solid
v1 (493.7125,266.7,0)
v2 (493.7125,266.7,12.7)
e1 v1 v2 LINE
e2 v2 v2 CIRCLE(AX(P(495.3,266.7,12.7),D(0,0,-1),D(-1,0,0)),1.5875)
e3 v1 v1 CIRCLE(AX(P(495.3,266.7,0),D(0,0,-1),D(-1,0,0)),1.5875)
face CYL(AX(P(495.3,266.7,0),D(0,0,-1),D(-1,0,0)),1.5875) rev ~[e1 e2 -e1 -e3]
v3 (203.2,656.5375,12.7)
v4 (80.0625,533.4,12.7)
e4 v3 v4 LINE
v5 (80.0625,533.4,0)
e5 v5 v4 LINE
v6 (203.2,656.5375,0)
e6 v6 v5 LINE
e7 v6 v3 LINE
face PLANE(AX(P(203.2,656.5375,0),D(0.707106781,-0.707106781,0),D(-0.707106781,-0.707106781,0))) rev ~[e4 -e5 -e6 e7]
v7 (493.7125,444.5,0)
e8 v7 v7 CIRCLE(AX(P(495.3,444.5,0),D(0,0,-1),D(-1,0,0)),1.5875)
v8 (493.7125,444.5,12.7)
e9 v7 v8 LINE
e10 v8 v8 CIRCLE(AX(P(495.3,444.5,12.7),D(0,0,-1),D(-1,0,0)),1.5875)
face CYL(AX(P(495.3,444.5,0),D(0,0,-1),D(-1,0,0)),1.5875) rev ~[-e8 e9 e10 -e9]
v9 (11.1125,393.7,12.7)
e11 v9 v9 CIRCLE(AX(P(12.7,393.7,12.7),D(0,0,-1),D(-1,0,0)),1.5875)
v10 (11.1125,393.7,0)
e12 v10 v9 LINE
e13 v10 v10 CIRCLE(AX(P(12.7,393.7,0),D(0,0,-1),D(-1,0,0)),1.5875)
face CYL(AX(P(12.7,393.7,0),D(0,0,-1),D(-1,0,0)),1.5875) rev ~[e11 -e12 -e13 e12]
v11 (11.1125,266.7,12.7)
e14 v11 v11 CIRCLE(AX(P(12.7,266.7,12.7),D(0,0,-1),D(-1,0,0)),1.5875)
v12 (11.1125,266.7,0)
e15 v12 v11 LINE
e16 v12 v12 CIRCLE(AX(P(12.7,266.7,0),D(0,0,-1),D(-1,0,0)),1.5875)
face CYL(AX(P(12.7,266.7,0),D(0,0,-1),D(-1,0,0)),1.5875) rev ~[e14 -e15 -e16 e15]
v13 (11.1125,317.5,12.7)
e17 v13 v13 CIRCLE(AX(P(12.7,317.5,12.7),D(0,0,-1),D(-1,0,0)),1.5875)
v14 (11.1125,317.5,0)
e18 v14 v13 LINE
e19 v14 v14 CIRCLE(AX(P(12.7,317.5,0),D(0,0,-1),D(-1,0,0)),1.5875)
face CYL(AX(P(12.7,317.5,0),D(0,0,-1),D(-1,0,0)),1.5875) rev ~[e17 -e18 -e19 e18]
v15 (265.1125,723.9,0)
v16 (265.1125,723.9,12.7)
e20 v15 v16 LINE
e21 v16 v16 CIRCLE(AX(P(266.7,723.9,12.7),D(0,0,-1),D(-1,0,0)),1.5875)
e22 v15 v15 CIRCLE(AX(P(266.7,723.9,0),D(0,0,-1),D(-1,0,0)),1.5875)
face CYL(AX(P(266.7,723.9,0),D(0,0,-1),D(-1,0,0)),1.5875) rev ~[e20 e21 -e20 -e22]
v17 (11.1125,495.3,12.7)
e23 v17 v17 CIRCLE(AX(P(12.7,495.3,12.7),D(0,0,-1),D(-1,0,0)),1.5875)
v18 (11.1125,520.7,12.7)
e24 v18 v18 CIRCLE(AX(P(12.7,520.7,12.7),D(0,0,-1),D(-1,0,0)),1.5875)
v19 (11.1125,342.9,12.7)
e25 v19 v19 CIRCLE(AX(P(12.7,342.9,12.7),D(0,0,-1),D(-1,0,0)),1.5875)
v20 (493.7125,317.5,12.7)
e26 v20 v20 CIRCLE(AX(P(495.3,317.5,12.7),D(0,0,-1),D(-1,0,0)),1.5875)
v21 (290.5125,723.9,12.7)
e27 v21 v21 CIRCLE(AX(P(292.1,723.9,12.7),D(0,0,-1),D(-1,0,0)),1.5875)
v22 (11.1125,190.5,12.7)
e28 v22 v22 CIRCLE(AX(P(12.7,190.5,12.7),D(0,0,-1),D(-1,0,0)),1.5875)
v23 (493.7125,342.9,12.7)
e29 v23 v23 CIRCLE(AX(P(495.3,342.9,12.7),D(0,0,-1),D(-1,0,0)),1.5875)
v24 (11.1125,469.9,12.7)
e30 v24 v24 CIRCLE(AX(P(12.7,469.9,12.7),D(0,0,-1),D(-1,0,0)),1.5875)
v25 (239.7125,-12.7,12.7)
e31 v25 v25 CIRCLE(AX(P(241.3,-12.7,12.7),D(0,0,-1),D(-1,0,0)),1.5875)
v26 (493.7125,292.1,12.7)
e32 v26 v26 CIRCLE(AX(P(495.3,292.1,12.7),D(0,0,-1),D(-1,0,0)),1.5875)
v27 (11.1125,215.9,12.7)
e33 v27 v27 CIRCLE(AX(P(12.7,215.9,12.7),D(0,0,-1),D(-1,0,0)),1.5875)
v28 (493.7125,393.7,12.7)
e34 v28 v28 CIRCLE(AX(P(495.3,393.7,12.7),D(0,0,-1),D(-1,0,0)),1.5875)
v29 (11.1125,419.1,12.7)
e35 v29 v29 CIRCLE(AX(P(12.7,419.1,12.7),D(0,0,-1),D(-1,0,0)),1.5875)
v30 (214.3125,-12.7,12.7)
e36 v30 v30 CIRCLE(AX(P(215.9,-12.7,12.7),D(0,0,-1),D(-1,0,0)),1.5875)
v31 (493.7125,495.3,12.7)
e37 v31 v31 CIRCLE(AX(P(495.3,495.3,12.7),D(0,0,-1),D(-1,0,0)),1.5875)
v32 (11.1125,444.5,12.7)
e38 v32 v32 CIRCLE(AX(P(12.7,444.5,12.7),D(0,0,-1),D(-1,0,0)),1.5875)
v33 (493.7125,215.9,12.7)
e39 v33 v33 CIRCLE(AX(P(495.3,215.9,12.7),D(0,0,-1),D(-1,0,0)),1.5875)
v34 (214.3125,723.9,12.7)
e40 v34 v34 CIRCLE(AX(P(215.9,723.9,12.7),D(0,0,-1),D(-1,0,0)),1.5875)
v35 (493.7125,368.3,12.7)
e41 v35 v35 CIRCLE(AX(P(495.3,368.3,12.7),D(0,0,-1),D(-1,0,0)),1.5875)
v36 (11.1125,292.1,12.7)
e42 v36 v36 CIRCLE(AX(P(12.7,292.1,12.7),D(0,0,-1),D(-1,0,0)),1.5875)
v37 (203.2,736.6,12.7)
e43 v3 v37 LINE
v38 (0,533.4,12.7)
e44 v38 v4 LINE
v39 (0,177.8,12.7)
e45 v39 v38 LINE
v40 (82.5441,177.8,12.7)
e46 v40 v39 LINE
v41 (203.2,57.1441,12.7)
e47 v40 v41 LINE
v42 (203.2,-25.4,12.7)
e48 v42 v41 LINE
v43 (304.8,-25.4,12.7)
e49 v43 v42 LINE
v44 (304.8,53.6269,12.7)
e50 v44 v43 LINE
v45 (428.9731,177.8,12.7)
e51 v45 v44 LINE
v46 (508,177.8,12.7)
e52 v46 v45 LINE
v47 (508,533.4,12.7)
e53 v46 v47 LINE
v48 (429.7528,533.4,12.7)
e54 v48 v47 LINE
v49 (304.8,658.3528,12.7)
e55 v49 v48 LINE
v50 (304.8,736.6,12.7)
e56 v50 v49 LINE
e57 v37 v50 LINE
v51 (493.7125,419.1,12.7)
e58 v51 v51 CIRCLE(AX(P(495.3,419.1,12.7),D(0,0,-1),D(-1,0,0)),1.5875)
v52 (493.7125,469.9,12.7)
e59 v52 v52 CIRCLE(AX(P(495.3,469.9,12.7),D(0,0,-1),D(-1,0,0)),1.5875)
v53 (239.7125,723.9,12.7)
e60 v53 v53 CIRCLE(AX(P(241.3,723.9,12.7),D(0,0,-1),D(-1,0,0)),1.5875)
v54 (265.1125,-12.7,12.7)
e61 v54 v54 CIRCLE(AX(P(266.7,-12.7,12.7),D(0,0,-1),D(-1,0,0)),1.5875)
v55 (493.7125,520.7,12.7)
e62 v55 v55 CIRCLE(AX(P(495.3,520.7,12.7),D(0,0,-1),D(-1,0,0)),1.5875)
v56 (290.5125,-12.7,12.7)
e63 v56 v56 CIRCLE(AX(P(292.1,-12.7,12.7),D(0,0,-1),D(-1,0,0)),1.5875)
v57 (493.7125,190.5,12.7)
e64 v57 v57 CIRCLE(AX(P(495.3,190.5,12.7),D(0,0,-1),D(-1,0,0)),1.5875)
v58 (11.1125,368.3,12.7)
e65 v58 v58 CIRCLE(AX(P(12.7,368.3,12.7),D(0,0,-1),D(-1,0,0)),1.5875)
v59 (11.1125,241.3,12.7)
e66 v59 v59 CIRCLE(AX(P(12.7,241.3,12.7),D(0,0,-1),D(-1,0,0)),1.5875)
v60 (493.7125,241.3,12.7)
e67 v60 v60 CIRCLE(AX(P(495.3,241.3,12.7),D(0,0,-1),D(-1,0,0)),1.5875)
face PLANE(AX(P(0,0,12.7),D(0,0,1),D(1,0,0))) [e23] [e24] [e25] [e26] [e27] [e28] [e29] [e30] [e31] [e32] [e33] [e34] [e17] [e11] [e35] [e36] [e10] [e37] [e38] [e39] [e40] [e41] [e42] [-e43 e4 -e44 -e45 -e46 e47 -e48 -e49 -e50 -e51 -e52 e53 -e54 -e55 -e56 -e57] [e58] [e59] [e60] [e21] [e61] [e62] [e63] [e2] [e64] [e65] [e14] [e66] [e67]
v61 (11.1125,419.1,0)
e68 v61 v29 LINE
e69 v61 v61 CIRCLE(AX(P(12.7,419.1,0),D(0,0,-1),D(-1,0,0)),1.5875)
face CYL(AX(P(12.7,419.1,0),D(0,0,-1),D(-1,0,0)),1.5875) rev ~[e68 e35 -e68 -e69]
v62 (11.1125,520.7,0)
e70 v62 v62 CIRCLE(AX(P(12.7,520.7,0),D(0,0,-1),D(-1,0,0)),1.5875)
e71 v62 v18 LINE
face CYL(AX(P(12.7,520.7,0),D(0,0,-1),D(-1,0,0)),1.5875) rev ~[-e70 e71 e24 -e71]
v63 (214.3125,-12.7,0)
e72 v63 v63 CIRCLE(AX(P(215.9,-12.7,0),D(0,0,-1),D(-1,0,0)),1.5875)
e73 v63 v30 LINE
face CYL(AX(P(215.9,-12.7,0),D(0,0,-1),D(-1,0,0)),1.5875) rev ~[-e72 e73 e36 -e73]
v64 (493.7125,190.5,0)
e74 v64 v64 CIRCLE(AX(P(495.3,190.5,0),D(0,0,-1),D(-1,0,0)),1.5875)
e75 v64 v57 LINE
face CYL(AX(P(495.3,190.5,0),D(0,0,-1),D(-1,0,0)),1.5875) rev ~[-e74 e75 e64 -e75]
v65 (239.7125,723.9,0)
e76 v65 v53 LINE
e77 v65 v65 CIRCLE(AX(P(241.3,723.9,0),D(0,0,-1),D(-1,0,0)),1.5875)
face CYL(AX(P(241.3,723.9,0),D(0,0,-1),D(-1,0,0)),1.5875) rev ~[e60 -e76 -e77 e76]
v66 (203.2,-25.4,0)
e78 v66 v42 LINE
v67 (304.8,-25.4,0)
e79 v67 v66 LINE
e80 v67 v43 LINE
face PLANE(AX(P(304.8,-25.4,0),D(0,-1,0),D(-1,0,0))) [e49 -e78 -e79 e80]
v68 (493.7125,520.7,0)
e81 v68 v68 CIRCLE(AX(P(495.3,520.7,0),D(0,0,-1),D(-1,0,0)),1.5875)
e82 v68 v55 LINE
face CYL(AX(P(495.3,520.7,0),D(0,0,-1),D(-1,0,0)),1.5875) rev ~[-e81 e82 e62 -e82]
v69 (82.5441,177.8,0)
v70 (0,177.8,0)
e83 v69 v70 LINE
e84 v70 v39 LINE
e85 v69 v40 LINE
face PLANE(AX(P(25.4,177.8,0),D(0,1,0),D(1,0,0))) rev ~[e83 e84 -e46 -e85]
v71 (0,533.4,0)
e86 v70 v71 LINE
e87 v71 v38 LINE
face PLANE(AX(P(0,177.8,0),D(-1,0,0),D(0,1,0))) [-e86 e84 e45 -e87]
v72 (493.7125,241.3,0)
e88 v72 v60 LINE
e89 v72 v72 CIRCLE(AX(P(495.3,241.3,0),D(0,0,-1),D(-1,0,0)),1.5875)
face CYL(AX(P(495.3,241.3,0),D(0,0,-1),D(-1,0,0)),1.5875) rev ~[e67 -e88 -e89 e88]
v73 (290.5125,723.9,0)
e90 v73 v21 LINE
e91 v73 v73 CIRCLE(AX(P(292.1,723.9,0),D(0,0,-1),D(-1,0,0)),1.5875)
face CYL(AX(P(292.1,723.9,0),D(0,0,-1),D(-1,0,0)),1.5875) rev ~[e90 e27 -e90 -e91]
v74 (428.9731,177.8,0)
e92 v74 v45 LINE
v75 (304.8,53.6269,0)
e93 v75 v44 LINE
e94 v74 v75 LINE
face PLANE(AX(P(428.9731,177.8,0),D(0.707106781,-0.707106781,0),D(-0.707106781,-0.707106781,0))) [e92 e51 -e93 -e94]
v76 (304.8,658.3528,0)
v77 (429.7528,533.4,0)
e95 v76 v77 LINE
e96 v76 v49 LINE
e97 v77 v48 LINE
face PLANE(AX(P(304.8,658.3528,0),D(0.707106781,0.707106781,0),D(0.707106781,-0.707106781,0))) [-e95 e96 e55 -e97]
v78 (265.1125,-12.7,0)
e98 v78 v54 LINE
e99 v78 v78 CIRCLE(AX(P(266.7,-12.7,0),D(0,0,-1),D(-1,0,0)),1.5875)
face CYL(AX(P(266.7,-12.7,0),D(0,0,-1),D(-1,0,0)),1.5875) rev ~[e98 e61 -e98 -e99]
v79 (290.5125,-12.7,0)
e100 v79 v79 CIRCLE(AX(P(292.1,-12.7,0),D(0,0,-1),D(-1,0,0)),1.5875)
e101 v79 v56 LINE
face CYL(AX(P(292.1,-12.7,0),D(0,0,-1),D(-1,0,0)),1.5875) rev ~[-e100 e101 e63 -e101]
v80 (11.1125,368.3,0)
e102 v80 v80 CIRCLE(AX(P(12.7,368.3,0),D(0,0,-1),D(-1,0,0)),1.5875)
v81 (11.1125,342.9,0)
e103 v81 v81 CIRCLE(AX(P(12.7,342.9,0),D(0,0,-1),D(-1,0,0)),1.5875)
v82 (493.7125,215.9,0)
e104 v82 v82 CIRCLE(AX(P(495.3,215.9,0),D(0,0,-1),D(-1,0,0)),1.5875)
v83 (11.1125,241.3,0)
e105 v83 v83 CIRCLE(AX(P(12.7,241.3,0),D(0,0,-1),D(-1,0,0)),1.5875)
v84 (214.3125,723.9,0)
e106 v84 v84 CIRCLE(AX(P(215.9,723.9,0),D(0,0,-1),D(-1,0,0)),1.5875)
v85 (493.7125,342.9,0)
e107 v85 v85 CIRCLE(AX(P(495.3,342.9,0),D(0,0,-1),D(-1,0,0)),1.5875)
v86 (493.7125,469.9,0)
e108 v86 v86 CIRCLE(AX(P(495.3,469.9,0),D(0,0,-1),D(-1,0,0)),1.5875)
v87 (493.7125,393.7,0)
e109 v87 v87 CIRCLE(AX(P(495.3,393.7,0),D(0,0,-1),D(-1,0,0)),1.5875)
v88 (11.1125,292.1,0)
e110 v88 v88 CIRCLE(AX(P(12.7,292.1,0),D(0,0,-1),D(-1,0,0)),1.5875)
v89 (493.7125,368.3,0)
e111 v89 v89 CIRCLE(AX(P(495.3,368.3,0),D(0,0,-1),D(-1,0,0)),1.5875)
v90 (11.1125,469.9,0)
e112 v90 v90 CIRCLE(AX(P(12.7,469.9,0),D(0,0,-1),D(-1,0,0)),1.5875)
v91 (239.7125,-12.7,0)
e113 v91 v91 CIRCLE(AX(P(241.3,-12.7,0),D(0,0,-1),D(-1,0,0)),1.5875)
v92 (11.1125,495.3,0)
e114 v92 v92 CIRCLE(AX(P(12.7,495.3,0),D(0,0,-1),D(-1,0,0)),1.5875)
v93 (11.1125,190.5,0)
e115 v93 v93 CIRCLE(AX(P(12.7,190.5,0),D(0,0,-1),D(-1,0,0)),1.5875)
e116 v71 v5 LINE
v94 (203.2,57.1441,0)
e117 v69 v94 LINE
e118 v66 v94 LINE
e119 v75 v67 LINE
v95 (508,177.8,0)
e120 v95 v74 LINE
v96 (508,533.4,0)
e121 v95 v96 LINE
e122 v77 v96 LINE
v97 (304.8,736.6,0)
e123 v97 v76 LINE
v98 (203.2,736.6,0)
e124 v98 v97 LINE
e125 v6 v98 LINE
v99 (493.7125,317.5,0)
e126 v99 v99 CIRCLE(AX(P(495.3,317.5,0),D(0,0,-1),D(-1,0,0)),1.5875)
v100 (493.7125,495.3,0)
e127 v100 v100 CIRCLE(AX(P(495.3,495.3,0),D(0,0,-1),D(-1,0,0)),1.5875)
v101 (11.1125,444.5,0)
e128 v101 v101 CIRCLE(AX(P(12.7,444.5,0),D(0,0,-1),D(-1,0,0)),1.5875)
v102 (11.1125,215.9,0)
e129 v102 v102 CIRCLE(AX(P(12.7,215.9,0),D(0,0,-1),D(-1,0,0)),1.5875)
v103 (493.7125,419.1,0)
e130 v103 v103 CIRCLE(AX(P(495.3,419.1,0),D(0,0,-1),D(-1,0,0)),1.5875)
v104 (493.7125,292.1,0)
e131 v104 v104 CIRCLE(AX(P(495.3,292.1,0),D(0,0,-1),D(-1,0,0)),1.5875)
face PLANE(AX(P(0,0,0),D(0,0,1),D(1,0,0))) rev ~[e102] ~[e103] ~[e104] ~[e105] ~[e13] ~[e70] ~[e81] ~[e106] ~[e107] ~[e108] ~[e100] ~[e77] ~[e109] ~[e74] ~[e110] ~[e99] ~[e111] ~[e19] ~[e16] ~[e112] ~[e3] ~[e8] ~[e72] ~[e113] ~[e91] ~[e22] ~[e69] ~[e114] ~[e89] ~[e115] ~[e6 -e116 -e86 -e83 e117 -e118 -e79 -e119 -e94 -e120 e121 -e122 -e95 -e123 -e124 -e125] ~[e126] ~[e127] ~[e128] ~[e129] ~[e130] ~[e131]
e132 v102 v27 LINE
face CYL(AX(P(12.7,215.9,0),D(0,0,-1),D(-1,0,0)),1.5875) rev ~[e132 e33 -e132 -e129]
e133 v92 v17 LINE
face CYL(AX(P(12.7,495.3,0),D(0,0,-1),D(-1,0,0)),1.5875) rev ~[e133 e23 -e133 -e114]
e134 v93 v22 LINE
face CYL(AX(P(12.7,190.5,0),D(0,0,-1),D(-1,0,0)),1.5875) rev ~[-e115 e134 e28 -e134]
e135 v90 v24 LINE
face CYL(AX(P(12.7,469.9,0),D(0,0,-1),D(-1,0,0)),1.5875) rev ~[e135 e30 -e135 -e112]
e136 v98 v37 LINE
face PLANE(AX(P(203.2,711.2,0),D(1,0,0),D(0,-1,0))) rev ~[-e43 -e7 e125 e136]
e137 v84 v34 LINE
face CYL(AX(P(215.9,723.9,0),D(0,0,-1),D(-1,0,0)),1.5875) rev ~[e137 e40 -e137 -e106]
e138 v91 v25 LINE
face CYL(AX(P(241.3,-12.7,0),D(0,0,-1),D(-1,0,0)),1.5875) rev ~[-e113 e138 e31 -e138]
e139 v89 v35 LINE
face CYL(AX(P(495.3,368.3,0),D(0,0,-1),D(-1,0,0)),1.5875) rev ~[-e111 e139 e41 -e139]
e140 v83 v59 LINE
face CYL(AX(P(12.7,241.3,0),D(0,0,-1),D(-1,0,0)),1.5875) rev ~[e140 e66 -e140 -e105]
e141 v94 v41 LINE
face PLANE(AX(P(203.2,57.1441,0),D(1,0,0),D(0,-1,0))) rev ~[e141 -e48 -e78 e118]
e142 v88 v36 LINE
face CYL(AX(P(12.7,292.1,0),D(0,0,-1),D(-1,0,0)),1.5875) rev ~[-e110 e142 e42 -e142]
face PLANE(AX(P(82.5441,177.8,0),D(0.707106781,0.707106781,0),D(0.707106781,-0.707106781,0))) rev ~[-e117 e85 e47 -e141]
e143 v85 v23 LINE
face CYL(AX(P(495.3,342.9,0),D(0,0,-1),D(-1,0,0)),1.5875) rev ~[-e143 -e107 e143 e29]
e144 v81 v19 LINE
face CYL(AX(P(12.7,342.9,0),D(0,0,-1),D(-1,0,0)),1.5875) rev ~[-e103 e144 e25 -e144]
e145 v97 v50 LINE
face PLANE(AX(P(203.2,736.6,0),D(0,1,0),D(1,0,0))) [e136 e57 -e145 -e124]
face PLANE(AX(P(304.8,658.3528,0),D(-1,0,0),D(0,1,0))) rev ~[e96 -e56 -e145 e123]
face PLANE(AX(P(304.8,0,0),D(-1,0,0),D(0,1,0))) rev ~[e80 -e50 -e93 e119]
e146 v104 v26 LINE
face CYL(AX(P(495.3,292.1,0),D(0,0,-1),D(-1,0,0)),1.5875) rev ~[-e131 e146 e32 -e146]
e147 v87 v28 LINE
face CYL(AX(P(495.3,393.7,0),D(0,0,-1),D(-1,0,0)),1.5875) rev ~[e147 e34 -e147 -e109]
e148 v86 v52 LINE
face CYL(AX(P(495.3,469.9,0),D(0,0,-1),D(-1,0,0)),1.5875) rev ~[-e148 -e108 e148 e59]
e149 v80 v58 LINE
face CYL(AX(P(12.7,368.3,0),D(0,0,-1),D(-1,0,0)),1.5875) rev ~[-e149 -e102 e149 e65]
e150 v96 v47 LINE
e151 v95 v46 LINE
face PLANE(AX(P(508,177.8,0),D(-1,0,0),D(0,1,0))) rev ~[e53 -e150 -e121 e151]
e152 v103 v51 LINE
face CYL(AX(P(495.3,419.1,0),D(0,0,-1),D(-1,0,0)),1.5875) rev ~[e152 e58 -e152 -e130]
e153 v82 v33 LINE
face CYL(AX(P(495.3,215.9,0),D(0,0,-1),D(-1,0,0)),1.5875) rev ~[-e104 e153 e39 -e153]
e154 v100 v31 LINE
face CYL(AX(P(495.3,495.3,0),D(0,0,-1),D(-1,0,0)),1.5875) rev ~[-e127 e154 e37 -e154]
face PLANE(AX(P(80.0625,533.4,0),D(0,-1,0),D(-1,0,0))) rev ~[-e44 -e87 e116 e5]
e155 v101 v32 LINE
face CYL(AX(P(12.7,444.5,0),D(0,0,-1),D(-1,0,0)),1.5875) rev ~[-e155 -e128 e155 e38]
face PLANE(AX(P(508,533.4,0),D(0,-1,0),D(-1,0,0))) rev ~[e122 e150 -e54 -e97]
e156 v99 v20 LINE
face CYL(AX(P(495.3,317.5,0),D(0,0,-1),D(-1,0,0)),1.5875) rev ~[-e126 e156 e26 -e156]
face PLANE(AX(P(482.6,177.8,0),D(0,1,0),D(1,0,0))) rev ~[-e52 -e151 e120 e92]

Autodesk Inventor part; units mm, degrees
ref_plane "YZ Plane" through (0, 0, 0) normal (1, 0, 0) x (0, 1, 0)
ref_plane "XZ Plane" through (0, 0, 0) normal (0, 1, 0) x (-1, 0, 0)
ref_plane "XY Plane" through (0, 0, 0) normal (0, 0, 1) x (1, 0, 0)
ref_plane "Work Plane1" through (0, 0, 0) normal (0, 0, 1) x (1, 0, 0)
sketch "Sketch1" plane through (0, 0, 0) normal (0, 0, 1) x (1, 0, 0)
  circle A0 centre (495.3, 317.5) radius 1.5875
  circle A1 centre (495.3, 698.5) radius 1.5875
  circle A2 centre (495.3, 673.1) radius 1.5875
  circle A3 centre (495.3, 647.7) radius 1.5875
  circle A4 centre (495.3, 622.3) radius 1.5875
  circle A5 centre (495.3, 596.9) radius 1.5875
  circle A6 centre (495.3, 571.5) radius 1.5875
  circle A7 centre (495.3, 546.1) radius 1.5875
  circle A8 centre (495.3, 520.7) radius 1.5875
  circle A9 centre (495.3, 495.3) radius 1.5875
  circle A10 centre (495.3, 469.9) radius 1.5875
  circle A11 centre (495.3, 444.5) radius 1.5875
  circle A12 centre (495.3, 419.1) radius 1.5875
  circle A13 centre (495.3, 393.7) radius 1.5875
  circle A14 centre (495.3, 368.3) radius 1.5875
  circle A15 centre (495.3, 342.9) radius 1.5875
  circle A16 centre (495.3, 317.5) radius 1.5875
  circle A17 centre (495.3, 292.1) radius 1.5875
  circle A18 centre (495.3, 266.7) radius 1.5875
  circle A19 centre (495.3, 241.3) radius 1.5875
  circle A20 centre (495.3, 215.9) radius 1.5875
  circle A21 centre (495.3, 190.5) radius 1.5875
  circle A22 centre (495.3, 165.1) radius 1.5875
  circle A23 centre (495.3, 139.7) radius 1.5875
  circle A24 centre (495.3, 114.3) radius 1.5875
  circle A25 centre (495.3, 88.9) radius 1.5875
  circle A26 centre (495.3, 63.5) radius 1.5875
  circle A27 centre (495.3, 38.1) radius 1.5875
  circle A28 centre (495.3, 12.7) radius 1.5875
  line L0 (482.6, 0) -> (508, 0)
  line L1 (508, 0) -> (508, 711.2)
  line L2 (482.6, 711.2) -> (508, 711.2)
  line L3 (482.6, 0) -> (482.6, 711.2)
  circle A29 centre (469.9, 723.9) radius 1.5875
  circle A30 centre (444.5, 723.9) radius 1.5875
  circle A31 centre (419.1, 723.9) radius 1.5875
  circle A32 centre (393.7, 723.9) radius 1.5875
  circle A33 centre (368.3, 723.9) radius 1.5875
  circle A34 centre (342.9, 723.9) radius 1.5875
  circle A35 centre (317.5, 723.9) radius 1.5875
  circle A36 centre (292.1, 723.9) radius 1.5875
  circle A37 centre (266.7, 723.9) radius 1.5875
  circle A38 centre (241.3, 723.9) radius 1.5875
  circle A39 centre (215.9, 723.9) radius 1.5875
  circle A40 centre (190.5, 723.9) radius 1.5875
  circle A41 centre (165.1, 723.9) radius 1.5875
  circle A42 centre (139.7, 723.9) radius 1.5875
  circle A43 centre (114.3, 723.9) radius 1.5875
  circle A44 centre (88.9, 723.9) radius 1.5875
  circle A45 centre (63.5, 723.9) radius 1.5875
  circle A46 centre (38.1, 723.9) radius 1.5875
  line L4 (25.4, 736.6) -> (25.4, 711.2)
  line L5 (25.4, 711.2) -> (482.6, 711.2)
  line L6 (482.6, 736.6) -> (482.6, 711.2)
  line L7 (25.4, 736.6) -> (482.6, 736.6)
  circle A47 centre (38.1, -12.7) radius 1.5875
  circle A48 centre (63.5, -12.7) radius 1.5875
  circle A49 centre (88.9, -12.7) radius 1.5875
  circle A50 centre (114.3, -12.7) radius 1.5875
  circle A51 centre (139.7, -12.7) radius 1.5875
  circle A52 centre (165.1, -12.7) radius 1.5875
  circle A53 centre (190.5, -12.7) radius 1.5875
  circle A54 centre (215.9, -12.7) radius 1.5875
  circle A55 centre (241.3, -12.7) radius 1.5875
  circle A56 centre (266.7, -12.7) radius 1.5875
  circle A57 centre (292.1, -12.7) radius 1.5875
  circle A58 centre (317.5, -12.7) radius 1.5875
  circle A59 centre (342.9, -12.7) radius 1.5875
  circle A60 centre (368.3, -12.7) radius 1.5875
  circle A61 centre (393.7, -12.7) radius 1.5875
  circle A62 centre (419.1, -12.7) radius 1.5875
  circle A63 centre (444.5, -12.7) radius 1.5875
  circle A64 centre (469.9, -12.7) radius 1.5875
  line L8 (482.6, -25.4) -> (482.6, 0)
  line L9 (482.6, 0) -> (25.4, 0)
  line L10 (25.4, -25.4) -> (25.4, 0)
  line L11 (482.6, -25.4) -> (25.4, -25.4)
  circle A65 centre (12.7, 698.5) radius 1.5875
  circle A66 centre (12.7, 673.1) radius 1.5875
  circle A67 centre (12.7, 647.7) radius 1.5875
  circle A68 centre (12.7, 622.3) radius 1.5875
  circle A69 centre (12.7, 596.9) radius 1.5875
  circle A70 centre (12.7, 571.5) radius 1.5875
  circle A71 centre (12.7, 546.1) radius 1.5875
  circle A72 centre (12.7, 520.7) radius 1.5875
  circle A73 centre (12.7, 495.3) radius 1.5875
  circle A74 centre (12.7, 469.9) radius 1.5875
  circle A75 centre (12.7, 444.5) radius 1.5875
  circle A76 centre (12.7, 419.1) radius 1.5875
  circle A77 centre (12.7, 393.7) radius 1.5875
  circle A78 centre (12.7, 368.3) radius 1.5875
  circle A79 centre (12.7, 342.9) radius 1.5875
  circle A80 centre (12.7, 317.5) radius 1.5875
  circle A81 centre (12.7, 292.1) radius 1.5875
  circle A82 centre (12.7, 266.7) radius 1.5875
  circle A83 centre (12.7, 241.3) radius 1.5875
  circle A84 centre (12.7, 215.9) radius 1.5875
  circle A85 centre (12.7, 190.5) radius 1.5875
  circle A86 centre (12.7, 165.1) radius 1.5875
  circle A87 centre (12.7, 139.7) radius 1.5875
  circle A88 centre (12.7, 114.3) radius 1.5875
  circle A89 centre (12.7, 88.9) radius 1.5875
  circle A90 centre (12.7, 63.5) radius 1.5875
  circle A91 centre (12.7, 38.1) radius 1.5875
  circle A92 centre (12.7, 12.7) radius 1.5875
  line L12 (0, 0) -> (25.4, 0)
  line L13 (25.4, 0) -> (25.4, 711.2)
  line L14 (0, 711.2) -> (25.4, 711.2)
  line L15 (0, 0) -> (0, 711.2)
  line L16 (0, 533.4) -> (0, 177.8)
  line L17 (508, 177.8) -> (508, 533.4)
  line L18 (304.8, 736.6) -> (203.2, 736.6)
  line L19 (203.2, -25.4) -> (304.8, -25.4)
  line L20 (428.9731, 177.8) -> (304.8, 53.6269)
  spline S0 degree 3 number of poles 75
  line L21 (429.7528, 155.0822) -> (327.5178, 52.8472)
  line L22 (82.5441, 177.8) -> (203.2, 57.1441)
  line L23 (180.4822, 52.8472) -> (78.2472, 155.0822)
  line L24 (203.2, 656.5375) -> (80.0625, 533.4)
  line L25 (78.2472, 556.1178) -> (180.4822, 658.3528)
  line L26 (327.5178, 658.3528) -> (429.7528, 556.1178)
  line L27 (304.8, 658.3528) -> (429.7528, 533.4)
  line L28 (203.2, 736.6) -> (203.2, 656.5375)
  line L29 (203.2, 57.1441) -> (203.2, -25.4)
  line L30 (304.8, 658.3528) -> (304.8, 736.6)
  line L31 (508, 533.4) -> (429.7528, 533.4)
  line L32 (80.0625, 533.4) -> (0, 533.4)
  line L33 (0, 177.8) -> (82.5441, 177.8)
  line L34 (428.9731, 177.8) -> (508, 177.8)
  line L35 (304.8, -25.4) -> (304.8, 53.6269)
extrude "Extrusion1" add sketch "Sketch1" along normal blind 12.7 contours A0 | A8 | A9 | A10 | A11 | A12 | A13 | A14 | A15 | A17 | A18 | A19 | A20 | A21 | L34 L20 L35 L9 L29 L22 L33 L13 L32 L24 L28 L5 L30 L27 L31 L3 | L3 L31 L1 L34 | L35 L11 L29 L9 | L5 L28 L7 L30 | L33 L15 L32 L13 | A36 | A37 | A38 | A39 | A54 | A55 | A56 | A57 | A72 | A73 | A74 | A75 | A76 | A77 | A78 | A79 | A80 | A81 | A82 | A83 | A84 | A85
sketch "Sketch2" plane through (0, 0, 0) normal (0, 0, -1) x (-1, 0, 0)
  circle A0 centre (-495.3, 190.5) radius 1.5875 projected
  circle A1 centre (-495.3, 215.9) radius 1.5875 projected
  circle A2 centre (-495.3, 241.3) radius 1.5875 projected
  circle A3 centre (-495.3, 266.7) radius 1.5875 projected
  circle A4 centre (-495.3, 292.1) radius 1.5875 projected
  circle A5 centre (-495.3, 317.5) radius 1.5875 projected
  circle A6 centre (-495.3, 342.9) radius 1.5875 projected
  circle A7 centre (-495.3, 368.3) radius 1.5875 projected
  circle A8 centre (-495.3, 393.7) radius 1.5875 projected
  circle A9 centre (-495.3, 419.1) radius 1.5875 projected
  circle A10 centre (-495.3, 444.5) radius 1.5875 projected
  circle A11 centre (-495.3, 469.9) radius 1.5875 projected
  circle A12 centre (-495.3, 495.3) radius 1.5875 projected
  circle A13 centre (-495.3, 520.7) radius 1.5875 projected
  circle A14 centre (-215.9, 723.9) radius 1.5875 projected
  circle A15 centre (-241.3, 723.9) radius 1.5875 projected
  circle A16 centre (-266.7, 723.9) radius 1.5875 projected
  circle A17 centre (-292.1, 723.9) radius 1.5875 projected
  circle A18 centre (-12.7, 520.7) radius 1.5875 projected
  circle A19 centre (-12.7, 495.3) radius 1.5875 projected
  circle A20 centre (-12.7, 469.9) radius 1.5875 projected
  circle A21 centre (-12.7, 444.5) radius 1.5875 projected
  circle A22 centre (-12.7, 419.1) radius 1.5875 projected
  circle A23 centre (-12.7, 393.7) radius 1.5875 projected
  circle A24 centre (-12.7, 368.3) radius 1.5875 projected
  circle A25 centre (-12.7, 342.9) radius 1.5875 projected
  circle A26 centre (-12.7, 317.5) radius 1.5875 projected
  circle A27 centre (-12.7, 292.1) radius 1.5875 projected
  circle A28 centre (-12.7, 266.7) radius 1.5875 projected
  circle A29 centre (-12.7, 241.3) radius 1.5875 projected
  circle A30 centre (-12.7, 215.9) radius 1.5875 projected
  circle A31 centre (-12.7, 190.5) radius 1.5875 projected
  circle A32 centre (-215.9, -12.7) radius 1.5875 projected
  circle A33 centre (-241.3, -12.7) radius 1.5875 projected
  circle A34 centre (-266.7, -12.7) radius 1.5875 projected
  circle A35 centre (-292.1, -12.7) radius 1.5875 projected
  point P0 (0, 0)
extrude "Extrusion2" cut sketch "Sketch2" against normal blind 12.7
properties part number "baseplate"
